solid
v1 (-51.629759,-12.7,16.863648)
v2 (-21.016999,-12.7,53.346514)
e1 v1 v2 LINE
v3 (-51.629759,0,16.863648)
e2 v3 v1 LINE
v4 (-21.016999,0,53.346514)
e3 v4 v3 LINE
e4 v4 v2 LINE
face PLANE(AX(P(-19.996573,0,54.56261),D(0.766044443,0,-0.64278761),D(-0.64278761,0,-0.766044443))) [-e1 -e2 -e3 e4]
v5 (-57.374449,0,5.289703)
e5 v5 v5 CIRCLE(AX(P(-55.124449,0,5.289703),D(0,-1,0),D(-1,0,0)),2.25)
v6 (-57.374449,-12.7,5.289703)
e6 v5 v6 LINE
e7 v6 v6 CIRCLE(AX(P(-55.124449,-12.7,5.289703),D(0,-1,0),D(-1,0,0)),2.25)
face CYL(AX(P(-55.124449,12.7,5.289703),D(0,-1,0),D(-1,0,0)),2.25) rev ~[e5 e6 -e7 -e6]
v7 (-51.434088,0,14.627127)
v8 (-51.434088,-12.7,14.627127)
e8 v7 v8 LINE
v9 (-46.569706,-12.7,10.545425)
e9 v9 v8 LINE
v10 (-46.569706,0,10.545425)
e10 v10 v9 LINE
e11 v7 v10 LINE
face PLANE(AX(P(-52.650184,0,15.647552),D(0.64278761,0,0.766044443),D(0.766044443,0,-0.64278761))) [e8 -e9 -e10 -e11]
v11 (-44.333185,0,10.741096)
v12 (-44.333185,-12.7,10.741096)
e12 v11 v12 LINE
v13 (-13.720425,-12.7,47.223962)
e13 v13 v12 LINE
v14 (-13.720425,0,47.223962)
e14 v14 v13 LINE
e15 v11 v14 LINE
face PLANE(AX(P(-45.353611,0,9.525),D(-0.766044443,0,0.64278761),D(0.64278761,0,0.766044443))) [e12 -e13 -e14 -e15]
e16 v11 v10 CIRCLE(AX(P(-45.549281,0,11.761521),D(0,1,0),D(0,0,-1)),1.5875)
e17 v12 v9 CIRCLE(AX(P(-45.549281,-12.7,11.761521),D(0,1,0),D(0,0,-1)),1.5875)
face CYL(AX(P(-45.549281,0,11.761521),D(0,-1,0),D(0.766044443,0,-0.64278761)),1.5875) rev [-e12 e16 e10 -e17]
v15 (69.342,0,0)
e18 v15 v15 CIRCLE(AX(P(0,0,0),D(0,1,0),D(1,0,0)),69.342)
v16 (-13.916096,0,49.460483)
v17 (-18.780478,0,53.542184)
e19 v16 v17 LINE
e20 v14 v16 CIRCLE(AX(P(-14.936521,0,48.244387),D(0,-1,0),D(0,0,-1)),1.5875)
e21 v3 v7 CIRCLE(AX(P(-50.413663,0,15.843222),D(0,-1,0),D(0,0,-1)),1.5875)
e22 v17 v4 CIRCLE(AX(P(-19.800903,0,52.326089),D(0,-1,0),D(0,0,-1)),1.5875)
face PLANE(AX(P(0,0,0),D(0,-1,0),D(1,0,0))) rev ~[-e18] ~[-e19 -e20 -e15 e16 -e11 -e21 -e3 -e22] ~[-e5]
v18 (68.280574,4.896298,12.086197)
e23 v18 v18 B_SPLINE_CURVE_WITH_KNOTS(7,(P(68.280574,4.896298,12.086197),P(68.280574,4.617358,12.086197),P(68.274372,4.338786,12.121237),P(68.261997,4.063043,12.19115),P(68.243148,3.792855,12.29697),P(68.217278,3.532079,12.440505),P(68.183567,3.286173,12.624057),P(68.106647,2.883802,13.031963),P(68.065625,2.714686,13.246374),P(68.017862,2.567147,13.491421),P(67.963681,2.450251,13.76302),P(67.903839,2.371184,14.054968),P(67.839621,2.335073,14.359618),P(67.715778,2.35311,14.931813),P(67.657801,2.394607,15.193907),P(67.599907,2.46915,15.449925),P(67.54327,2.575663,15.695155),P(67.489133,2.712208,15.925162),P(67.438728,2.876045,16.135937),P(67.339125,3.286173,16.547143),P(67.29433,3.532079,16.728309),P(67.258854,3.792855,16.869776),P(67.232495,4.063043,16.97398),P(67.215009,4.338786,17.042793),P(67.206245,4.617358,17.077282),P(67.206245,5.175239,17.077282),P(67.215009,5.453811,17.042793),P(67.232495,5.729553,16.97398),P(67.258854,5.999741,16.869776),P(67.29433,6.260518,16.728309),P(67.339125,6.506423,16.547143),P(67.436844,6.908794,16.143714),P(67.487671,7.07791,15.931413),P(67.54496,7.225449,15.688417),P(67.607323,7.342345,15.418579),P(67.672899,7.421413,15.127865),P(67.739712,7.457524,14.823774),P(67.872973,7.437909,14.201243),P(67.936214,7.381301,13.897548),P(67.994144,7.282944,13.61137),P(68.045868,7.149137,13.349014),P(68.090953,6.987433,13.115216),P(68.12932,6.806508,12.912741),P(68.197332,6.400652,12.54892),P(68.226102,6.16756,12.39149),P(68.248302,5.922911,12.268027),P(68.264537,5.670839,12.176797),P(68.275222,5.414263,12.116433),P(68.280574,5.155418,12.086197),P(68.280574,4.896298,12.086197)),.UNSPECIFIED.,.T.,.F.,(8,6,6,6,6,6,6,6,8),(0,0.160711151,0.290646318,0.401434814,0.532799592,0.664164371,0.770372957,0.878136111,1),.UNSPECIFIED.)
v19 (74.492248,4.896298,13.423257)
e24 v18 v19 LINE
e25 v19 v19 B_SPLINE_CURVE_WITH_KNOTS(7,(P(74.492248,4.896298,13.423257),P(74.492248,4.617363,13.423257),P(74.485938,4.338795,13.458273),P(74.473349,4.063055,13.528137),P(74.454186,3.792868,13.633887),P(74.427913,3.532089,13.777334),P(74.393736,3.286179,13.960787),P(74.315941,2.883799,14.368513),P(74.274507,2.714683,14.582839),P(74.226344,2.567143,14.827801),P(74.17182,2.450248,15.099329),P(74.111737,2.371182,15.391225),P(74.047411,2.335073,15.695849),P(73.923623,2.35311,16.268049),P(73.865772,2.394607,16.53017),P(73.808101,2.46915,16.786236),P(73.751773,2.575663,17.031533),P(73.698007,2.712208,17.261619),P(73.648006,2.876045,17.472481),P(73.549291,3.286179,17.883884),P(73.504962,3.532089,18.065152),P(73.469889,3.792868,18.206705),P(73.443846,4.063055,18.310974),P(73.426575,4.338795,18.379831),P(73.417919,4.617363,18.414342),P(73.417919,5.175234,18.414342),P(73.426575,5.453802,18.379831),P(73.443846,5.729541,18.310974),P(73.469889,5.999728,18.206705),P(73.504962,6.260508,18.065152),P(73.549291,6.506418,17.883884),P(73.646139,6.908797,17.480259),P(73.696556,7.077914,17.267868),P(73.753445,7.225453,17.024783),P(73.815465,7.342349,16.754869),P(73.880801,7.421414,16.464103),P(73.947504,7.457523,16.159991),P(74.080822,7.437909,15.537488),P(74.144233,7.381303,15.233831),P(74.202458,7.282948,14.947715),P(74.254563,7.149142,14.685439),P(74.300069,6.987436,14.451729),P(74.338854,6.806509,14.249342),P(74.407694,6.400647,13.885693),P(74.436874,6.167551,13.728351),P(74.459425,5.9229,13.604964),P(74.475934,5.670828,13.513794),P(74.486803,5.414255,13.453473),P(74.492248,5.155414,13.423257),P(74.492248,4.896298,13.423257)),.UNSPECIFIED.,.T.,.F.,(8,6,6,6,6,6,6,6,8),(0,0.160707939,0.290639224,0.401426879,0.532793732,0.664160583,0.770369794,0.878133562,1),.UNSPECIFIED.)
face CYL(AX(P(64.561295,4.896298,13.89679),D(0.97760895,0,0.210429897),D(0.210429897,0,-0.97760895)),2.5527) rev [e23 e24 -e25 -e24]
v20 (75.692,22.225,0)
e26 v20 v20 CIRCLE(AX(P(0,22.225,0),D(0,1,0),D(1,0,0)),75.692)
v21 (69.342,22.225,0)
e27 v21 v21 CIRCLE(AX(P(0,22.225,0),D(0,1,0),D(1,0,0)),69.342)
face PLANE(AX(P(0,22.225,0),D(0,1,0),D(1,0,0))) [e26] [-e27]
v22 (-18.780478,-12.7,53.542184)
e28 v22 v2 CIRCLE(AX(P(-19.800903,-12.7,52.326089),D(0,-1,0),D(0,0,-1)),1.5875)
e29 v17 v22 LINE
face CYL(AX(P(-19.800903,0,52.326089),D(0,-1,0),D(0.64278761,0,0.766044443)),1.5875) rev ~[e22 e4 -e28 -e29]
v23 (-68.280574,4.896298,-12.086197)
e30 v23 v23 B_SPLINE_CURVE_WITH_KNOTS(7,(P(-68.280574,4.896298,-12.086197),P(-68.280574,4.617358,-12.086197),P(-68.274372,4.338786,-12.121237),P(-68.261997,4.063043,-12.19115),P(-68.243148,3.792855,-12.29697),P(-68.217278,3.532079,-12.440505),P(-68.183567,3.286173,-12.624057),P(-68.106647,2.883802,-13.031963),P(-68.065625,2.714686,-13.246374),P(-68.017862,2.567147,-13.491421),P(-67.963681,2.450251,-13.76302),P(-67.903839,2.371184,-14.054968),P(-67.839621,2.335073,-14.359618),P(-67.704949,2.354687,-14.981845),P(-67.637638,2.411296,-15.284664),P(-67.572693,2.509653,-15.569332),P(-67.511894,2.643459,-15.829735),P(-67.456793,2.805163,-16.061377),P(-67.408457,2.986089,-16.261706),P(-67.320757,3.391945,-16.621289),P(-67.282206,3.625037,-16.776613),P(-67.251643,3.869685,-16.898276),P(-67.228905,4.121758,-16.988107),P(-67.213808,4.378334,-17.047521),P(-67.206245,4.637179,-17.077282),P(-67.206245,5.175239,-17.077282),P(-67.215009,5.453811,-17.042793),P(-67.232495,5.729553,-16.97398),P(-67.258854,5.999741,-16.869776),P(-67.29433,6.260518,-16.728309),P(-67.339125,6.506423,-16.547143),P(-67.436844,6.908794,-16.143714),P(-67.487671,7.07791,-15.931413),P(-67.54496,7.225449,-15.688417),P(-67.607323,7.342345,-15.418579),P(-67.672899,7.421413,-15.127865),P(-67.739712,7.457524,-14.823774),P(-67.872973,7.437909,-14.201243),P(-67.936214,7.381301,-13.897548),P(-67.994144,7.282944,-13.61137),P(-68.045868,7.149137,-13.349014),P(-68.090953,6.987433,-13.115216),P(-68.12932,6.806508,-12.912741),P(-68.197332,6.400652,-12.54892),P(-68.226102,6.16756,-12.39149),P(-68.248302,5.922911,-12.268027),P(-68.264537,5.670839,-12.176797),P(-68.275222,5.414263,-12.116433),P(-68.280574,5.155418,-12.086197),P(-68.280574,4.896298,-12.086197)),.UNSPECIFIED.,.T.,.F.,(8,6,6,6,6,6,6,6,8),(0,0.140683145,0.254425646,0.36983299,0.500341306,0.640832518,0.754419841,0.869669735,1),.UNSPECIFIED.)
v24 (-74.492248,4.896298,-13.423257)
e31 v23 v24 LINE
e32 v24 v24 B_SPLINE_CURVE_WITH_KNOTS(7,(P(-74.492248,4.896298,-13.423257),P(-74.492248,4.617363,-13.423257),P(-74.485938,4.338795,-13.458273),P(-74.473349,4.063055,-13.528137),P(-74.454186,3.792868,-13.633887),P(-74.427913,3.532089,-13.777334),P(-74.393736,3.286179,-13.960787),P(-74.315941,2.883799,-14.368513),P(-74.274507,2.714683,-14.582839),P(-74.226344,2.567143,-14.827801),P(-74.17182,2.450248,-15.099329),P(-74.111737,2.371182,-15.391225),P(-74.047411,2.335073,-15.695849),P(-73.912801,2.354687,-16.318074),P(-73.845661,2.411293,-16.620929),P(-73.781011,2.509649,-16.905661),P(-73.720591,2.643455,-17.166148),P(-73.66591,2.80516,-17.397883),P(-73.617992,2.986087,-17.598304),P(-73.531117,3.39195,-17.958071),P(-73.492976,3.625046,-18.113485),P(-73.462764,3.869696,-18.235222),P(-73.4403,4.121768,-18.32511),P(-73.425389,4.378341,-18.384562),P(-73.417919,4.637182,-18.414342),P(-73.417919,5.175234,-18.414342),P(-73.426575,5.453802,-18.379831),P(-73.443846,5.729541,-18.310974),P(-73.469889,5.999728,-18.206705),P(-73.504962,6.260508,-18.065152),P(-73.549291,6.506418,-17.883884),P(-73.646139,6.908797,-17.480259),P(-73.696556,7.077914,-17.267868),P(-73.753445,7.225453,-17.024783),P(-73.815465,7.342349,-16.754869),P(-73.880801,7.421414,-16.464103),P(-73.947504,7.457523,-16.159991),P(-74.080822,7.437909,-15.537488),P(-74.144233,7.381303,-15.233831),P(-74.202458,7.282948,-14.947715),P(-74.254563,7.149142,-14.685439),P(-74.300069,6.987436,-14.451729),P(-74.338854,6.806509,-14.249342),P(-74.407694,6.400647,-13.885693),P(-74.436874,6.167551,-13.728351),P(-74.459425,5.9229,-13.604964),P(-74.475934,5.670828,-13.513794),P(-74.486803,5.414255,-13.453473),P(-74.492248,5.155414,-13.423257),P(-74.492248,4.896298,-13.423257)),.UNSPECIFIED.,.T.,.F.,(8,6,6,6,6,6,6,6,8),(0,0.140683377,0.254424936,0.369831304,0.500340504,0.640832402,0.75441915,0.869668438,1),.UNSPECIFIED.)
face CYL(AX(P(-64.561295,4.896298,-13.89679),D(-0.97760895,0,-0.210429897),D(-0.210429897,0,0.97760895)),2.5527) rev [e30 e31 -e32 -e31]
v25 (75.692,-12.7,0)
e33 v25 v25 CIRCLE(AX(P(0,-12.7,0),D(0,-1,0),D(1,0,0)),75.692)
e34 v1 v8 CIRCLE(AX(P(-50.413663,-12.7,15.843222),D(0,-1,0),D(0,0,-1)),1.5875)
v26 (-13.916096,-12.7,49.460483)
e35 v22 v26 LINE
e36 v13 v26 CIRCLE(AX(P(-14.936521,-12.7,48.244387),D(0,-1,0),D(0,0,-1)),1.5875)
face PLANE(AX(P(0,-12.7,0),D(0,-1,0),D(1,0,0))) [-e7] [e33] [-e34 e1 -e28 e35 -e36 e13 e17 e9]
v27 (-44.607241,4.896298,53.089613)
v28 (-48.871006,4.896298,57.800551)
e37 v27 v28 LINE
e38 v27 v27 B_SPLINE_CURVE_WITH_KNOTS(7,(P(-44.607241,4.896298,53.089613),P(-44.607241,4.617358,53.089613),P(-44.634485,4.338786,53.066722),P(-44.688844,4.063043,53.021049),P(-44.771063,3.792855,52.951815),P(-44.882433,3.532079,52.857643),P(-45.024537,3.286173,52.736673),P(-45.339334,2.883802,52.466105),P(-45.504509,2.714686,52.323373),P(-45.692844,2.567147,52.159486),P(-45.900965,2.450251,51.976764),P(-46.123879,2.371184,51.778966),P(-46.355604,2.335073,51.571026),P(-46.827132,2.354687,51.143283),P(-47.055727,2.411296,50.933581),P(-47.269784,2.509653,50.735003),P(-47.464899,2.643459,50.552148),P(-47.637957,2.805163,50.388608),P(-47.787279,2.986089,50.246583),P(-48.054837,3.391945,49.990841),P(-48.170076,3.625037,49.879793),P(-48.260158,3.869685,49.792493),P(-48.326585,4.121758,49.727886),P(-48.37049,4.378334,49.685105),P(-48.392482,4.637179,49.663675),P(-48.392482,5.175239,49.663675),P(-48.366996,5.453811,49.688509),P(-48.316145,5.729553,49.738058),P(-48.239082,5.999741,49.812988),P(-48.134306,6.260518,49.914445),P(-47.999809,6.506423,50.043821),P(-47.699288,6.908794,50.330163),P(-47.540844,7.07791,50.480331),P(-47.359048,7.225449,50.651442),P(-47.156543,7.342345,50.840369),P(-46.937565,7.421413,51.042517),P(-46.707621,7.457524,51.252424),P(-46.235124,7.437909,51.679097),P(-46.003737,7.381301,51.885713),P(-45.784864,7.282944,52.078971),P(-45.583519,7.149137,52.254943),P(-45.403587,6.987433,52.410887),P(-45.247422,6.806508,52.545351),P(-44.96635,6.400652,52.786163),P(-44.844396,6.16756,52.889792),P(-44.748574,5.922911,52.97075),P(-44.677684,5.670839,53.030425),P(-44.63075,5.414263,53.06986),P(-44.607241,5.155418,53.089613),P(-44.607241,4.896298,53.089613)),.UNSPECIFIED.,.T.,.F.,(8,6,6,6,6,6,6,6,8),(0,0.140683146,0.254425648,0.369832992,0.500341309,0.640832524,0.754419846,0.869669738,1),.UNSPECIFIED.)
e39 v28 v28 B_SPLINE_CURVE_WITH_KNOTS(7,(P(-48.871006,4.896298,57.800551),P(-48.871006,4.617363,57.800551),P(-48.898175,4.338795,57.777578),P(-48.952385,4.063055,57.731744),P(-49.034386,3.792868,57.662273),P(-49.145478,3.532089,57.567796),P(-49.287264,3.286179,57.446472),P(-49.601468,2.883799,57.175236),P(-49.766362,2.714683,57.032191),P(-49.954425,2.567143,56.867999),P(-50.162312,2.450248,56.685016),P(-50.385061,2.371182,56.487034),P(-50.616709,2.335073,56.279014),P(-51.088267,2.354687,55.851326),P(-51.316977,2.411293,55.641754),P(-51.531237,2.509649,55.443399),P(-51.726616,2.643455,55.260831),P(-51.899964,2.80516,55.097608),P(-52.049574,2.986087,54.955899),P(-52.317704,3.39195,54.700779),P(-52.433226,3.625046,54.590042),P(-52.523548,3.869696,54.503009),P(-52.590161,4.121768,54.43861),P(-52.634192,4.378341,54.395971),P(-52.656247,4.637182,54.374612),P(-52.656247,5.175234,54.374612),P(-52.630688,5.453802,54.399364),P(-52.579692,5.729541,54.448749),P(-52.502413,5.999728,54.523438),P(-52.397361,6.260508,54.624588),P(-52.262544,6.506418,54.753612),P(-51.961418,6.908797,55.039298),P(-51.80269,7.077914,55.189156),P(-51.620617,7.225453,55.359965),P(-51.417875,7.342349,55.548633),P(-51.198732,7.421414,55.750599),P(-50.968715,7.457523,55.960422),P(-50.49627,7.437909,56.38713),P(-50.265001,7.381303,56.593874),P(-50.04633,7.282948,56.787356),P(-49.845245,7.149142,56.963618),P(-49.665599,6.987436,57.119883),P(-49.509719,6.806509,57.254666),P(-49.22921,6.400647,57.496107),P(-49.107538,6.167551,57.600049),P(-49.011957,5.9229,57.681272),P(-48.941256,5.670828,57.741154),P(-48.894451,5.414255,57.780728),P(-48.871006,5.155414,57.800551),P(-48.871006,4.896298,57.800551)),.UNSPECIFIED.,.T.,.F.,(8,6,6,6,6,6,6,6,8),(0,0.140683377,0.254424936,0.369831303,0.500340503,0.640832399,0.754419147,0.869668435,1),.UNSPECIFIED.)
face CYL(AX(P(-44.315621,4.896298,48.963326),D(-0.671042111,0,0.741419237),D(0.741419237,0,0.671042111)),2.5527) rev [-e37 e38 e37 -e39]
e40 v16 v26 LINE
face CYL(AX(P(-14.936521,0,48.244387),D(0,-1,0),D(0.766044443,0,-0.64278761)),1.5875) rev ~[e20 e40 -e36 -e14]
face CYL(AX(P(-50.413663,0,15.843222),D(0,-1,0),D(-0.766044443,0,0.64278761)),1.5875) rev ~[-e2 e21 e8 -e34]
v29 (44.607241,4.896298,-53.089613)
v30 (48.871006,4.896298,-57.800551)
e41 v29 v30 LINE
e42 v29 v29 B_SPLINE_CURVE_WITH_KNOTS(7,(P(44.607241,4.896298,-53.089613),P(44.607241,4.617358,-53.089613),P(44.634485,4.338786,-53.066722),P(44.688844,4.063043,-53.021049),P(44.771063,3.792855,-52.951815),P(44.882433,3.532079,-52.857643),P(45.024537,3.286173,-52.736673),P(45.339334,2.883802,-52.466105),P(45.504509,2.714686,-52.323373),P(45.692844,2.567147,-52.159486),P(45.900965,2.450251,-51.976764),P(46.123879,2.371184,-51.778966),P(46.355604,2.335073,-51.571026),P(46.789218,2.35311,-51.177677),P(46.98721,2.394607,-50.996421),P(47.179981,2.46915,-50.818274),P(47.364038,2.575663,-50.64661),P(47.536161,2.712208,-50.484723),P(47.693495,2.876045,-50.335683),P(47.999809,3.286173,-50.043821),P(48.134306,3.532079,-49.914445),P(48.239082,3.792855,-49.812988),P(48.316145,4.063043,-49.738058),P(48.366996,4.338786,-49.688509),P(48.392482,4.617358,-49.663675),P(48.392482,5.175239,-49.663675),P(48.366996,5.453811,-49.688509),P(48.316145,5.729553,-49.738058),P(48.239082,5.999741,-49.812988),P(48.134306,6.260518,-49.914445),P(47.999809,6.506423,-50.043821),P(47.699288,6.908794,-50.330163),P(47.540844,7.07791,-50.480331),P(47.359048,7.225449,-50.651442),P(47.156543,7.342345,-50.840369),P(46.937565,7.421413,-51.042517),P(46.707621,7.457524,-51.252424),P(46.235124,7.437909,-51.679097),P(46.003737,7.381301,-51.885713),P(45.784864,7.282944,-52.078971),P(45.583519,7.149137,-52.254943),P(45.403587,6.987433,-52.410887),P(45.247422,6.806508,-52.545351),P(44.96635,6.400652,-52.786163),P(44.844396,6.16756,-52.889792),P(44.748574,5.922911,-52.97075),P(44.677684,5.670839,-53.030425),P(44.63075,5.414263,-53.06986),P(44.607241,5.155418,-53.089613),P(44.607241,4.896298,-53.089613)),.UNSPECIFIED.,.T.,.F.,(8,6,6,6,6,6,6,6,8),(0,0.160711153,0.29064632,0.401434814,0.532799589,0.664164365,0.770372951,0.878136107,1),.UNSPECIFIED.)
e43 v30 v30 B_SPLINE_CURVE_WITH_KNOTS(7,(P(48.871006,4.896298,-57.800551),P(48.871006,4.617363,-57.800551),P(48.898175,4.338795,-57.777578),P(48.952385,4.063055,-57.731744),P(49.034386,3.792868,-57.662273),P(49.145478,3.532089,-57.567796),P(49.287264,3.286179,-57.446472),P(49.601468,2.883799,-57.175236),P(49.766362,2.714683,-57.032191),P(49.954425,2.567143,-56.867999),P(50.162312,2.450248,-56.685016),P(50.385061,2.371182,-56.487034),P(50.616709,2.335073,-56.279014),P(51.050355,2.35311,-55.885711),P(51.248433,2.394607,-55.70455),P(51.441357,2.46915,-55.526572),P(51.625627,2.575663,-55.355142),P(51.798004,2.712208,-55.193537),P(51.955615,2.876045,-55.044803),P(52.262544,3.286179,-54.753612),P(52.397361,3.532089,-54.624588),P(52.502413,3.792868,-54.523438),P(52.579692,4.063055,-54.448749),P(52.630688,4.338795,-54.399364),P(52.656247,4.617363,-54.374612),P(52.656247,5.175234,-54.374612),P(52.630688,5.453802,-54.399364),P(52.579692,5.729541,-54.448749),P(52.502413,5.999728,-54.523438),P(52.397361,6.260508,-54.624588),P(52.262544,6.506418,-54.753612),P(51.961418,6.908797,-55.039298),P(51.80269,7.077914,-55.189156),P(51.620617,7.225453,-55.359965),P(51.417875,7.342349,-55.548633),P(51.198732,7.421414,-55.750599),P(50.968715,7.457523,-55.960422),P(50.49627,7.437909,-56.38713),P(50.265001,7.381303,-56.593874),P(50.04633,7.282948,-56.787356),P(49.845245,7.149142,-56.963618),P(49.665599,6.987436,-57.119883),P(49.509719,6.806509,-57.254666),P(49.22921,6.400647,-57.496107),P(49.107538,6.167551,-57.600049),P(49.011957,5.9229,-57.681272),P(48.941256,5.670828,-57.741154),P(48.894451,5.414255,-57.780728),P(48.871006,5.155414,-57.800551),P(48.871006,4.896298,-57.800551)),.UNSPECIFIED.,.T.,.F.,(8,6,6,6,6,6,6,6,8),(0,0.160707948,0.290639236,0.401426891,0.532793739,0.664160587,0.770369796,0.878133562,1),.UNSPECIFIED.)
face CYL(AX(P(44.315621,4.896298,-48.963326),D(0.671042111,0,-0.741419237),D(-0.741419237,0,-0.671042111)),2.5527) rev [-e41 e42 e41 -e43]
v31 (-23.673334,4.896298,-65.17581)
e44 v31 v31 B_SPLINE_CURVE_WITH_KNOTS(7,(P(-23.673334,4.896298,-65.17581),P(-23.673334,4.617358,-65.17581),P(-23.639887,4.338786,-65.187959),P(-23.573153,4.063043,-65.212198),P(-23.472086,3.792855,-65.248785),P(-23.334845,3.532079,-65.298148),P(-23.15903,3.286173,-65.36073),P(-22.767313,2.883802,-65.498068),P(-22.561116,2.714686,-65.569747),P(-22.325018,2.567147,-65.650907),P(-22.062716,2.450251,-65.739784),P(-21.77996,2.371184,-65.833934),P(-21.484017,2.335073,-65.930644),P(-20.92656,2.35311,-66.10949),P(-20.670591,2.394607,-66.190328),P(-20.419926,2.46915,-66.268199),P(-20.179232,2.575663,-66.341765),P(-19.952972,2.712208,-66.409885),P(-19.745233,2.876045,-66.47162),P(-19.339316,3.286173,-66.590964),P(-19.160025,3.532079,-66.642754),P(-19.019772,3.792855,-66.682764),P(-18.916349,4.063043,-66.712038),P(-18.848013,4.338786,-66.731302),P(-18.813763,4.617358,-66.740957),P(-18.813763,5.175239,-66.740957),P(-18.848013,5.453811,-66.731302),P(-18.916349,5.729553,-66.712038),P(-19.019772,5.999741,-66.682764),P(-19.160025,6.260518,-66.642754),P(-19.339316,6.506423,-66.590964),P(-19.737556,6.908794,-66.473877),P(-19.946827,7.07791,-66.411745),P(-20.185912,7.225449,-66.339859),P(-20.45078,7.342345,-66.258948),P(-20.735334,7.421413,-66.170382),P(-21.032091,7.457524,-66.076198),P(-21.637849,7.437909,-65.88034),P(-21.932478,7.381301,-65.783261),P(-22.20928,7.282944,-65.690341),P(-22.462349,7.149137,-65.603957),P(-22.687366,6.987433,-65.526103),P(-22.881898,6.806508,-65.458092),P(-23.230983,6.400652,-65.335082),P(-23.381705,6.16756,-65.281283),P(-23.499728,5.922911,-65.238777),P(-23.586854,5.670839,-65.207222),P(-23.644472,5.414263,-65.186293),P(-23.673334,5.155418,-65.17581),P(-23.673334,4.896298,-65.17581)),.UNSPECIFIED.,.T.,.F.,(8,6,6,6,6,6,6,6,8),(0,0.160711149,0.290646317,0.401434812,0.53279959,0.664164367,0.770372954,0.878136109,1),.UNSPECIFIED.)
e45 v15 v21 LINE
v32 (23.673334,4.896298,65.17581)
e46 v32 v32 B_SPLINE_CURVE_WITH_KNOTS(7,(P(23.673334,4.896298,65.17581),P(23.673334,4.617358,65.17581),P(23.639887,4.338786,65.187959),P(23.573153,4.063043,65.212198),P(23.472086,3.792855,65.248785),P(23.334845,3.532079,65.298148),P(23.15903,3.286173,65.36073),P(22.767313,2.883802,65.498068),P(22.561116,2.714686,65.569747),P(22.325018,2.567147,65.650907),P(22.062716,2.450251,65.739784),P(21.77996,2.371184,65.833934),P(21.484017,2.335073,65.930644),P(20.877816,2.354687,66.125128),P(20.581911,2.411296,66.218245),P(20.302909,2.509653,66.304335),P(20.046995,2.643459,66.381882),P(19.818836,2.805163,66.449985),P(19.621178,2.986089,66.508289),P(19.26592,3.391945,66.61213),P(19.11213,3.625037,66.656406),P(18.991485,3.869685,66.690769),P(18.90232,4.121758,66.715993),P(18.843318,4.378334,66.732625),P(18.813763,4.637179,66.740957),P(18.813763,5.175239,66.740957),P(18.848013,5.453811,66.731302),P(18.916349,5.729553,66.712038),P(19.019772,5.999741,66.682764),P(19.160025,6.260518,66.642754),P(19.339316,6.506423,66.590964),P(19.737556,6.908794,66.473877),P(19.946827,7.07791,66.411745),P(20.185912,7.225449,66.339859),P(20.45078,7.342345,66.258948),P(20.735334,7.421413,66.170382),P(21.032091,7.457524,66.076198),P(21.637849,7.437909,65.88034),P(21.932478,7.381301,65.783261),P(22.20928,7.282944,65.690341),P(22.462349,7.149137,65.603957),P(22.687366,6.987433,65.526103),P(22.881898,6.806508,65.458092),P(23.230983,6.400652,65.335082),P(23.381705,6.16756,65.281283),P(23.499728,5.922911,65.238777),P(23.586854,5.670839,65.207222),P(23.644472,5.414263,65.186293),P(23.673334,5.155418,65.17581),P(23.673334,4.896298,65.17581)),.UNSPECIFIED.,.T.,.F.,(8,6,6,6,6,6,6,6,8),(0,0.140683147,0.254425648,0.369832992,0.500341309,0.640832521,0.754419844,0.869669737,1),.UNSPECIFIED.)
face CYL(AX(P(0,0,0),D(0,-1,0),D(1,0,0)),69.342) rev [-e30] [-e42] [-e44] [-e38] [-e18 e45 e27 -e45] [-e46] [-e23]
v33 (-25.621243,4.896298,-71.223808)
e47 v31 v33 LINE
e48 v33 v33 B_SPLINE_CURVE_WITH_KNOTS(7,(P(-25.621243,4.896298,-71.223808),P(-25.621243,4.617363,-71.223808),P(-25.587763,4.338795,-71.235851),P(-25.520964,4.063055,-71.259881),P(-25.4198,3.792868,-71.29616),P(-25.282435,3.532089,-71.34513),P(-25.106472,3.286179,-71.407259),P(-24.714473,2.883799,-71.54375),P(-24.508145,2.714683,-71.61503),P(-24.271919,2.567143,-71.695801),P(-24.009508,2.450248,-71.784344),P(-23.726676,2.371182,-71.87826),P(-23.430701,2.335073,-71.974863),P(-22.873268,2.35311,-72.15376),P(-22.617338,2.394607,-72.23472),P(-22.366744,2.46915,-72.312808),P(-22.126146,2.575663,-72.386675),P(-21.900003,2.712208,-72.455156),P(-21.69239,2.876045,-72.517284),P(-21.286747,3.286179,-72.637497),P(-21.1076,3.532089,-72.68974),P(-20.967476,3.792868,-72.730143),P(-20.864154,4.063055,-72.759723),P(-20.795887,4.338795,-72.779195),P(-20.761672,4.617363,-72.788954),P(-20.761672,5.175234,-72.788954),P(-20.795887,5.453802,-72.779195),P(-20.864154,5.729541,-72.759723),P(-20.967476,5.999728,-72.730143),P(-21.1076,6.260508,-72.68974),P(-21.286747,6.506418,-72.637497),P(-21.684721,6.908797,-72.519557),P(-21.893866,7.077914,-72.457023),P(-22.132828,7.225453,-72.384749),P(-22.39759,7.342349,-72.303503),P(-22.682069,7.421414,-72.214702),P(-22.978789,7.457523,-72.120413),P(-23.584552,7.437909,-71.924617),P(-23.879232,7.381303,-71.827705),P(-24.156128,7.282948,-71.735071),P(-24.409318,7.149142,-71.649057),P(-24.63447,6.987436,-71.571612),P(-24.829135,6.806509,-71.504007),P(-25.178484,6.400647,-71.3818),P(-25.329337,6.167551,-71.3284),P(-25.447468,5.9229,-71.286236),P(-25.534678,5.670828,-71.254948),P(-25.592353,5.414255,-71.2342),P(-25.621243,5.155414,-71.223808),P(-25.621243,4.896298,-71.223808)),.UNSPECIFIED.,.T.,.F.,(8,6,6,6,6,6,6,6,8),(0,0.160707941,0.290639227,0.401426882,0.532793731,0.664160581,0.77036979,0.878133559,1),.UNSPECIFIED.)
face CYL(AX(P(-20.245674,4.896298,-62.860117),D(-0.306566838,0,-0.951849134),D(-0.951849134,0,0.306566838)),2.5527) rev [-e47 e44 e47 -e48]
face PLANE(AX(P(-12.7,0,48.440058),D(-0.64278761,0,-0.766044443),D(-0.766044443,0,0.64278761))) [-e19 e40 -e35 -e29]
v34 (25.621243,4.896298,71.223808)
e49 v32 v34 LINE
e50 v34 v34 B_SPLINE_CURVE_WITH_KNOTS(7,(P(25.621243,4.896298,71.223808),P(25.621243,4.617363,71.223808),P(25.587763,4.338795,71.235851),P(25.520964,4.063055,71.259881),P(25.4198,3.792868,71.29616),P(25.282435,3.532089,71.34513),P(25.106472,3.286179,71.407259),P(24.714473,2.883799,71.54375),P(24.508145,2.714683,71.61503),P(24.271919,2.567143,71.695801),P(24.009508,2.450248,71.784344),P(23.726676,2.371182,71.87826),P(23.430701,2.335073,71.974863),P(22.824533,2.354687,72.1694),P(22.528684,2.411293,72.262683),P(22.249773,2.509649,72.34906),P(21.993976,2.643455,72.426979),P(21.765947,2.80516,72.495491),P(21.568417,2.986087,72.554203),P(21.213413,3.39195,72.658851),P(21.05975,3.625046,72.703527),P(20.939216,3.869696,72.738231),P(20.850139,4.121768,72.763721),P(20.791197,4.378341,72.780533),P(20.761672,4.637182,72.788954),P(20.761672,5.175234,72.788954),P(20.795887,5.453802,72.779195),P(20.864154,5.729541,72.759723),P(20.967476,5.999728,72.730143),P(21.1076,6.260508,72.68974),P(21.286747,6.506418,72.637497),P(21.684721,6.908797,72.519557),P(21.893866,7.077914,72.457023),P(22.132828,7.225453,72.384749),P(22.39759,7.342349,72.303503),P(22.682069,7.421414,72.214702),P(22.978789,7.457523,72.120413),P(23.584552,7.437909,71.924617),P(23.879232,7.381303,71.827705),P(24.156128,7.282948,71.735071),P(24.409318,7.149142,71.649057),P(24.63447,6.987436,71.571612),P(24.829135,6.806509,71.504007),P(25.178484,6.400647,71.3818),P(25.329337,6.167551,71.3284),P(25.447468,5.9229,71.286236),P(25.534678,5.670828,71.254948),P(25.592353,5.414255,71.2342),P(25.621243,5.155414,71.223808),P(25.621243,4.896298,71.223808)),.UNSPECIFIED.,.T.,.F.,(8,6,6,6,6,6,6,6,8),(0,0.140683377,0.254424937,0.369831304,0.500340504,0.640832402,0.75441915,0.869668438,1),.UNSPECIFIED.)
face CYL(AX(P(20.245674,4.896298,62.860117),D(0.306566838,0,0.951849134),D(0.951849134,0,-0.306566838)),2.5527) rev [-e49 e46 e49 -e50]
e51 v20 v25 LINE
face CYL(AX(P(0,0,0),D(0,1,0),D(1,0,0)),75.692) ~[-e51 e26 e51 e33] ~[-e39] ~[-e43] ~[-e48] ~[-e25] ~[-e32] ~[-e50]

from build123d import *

# Parameters (mm, degrees)
SKETCH1_R                            = 75.692
SKETCH1_R_2                          = 69.342
BOSS_EXTRUDE1_DEPTH                  = 22.225
SKETCH2_R                            = 75.692
BOSS_EXTRUDE2_DEPTH                  = 12.7
TAP_DRILL_FOR_1_4_20_TAP1_AT_2_COUNT = 2
TAP_DRILL_FOR_1_4_20_TAP1_AT_2_PITCH = 53.488399339
CIRPATTERN1_COUNT                    = 6
CUT_EXTRUDE1_DEPTH                   = 13.7000001
FILLET1_R                            = 1.5875
M4_CLEARANCE_HOLE1_D                 = 4.5
M4_CLEARANCE_HOLE1_DEPTH             = 12.7


with BuildPart() as part:
    # Sketch1 → Boss-Extrude1 (new body)
    with BuildSketch(Plane(origin=(0, 0, 0), x_dir=(1, 0, 0), z_dir=(0, 1, 0))):
        Circle(SKETCH1_R)
        Circle(SKETCH1_R_2, mode=Mode.SUBTRACT)
    extrude(amount=BOSS_EXTRUDE1_DEPTH)

    # Sketch2 → Boss-Extrude2 (add)
    with BuildSketch(Plane.XZ):
        Circle(SKETCH2_R)
    extrude(amount=BOSS_EXTRUDE2_DEPTH)

    # Sketch4 → Tap Drill for 1/4-20 Tap1 (revolve, cut)
    with BuildSketch(Plane(origin=(73.997176623, 4.896298223, 15.927859738), x_dir=(0.210429897, 0, -0.97760895), z_dir=(0, 1, 0))):
        Polygon((0, 0), (0, 11.185816902), (2.5527, 9.652), (2.5527, 0), align=None)
    tap_drill_for_1_4_20_tap1 = revolve(axis=Axis((80.204993454, 4.896298223, 17.264089582), (-0.97760895, 0, -0.210429897)), mode=Mode.SUBTRACT)

    # Tap Drill for 1/4-20 Tap1 at 2: Tap Drill for 1/4-20 Tap1 ×2
    with Locations(*[Vector(-0.110438581, 0.851210999, 0.51307227) * (i * TAP_DRILL_FOR_1_4_20_TAP1_AT_2_PITCH) for i in range(1, TAP_DRILL_FOR_1_4_20_TAP1_AT_2_COUNT)]):
        add(tap_drill_for_1_4_20_tap1, mode=Mode.SUBTRACT)

    # CirPattern1: Tap Drill for 1/4-20 Tap1 ×6 about axis
    cirpattern1_axis = Axis((0, 22.225, 0), (0, -1, 0))
    for i in range(1, CIRPATTERN1_COUNT):
        add(tap_drill_for_1_4_20_tap1.rotate(cirpattern1_axis, i * 360 / CIRPATTERN1_COUNT), mode=Mode.SUBTRACT)

    # CirPattern1 copy 1 sketch → CirPattern1 copy 1 (revolve, cut)
    with BuildSketch(Plane(origin=(-3.515628412, 50.426212075, 80.653301416), x_dir=(0.951849134, 0, -0.306566839), z_dir=(0, 1, 0))):
        Polygon((0, 0), (0, 11.185816902), (2.5527, 9.652), (2.5527, 0), align=None)
    revolve(axis=Axis((-1.568928987, 50.426212075, 86.697543415), (-0.306566839, 0, -0.951849134)), mode=Mode.SUBTRACT)

    # CirPattern1 copy 2 sketch → CirPattern1 copy 2 (revolve, cut)
    with BuildSketch(Plane(origin=(-71.605622131, 50.426212075, 37.282027193), x_dir=(0.741419237, 0, 0.671042111), z_dir=(0, 1, 0))):
        Polygon((0, 0), (0, 11.185816902), (2.5527, 9.652), (2.5527, 0), align=None)
    revolve(axis=Axis((-75.866739537, 50.426212075, 41.990039348), (0.671042111, 0, -0.741419237)), mode=Mode.SUBTRACT)

    # CirPattern1 copy 3 sketch → CirPattern1 copy 3 (revolve, cut)
    with BuildSketch(Plane(origin=(-68.089993719, 50.426212075, -43.371274223), x_dir=(-0.210429897, 0, 0.97760895), z_dir=(0, 1, 0))):
        Polygon((0, 0), (0, 11.185816902), (2.5527, 9.652), (2.5527, 0), align=None)
    revolve(axis=Axis((-74.29781055, 50.426212075, -44.707504067), (0.97760895, 0, 0.210429897)), mode=Mode.SUBTRACT)

    # CirPattern1 copy 4 sketch → CirPattern1 copy 4 (revolve, cut)
    with BuildSketch(Plane(origin=(3.515628412, 50.426212075, -80.653301416), x_dir=(-0.951849134, 0, 0.306566839), z_dir=(0, 1, 0))):
        Polygon((0, 0), (0, 11.185816902), (2.5527, 9.652), (2.5527, 0), align=None)
    revolve(axis=Axis((1.568928987, 50.426212075, -86.697543415), (0.306566839, 0, 0.951849134)), mode=Mode.SUBTRACT)

    # CirPattern1 copy 5 sketch → CirPattern1 copy 5 (revolve, cut)
    with BuildSketch(Plane(origin=(71.605622131, 50.426212075, -37.282027193), x_dir=(-0.741419237, 0, -0.671042111), z_dir=(0, 1, 0))):
        Polygon((0, 0), (0, 11.185816902), (2.5527, 9.652), (2.5527, 0), align=None)
    revolve(axis=Axis((75.866739537, 50.426212075, -41.990039348), (-0.671042111, 0, 0.741419237)), mode=Mode.SUBTRACT)

    # Sketch5 → Cut-Extrude1 (cut, through all)
    with BuildSketch(Plane(origin=(0, 0, 0), x_dir=(1, 0, 0), z_dir=(0, 1, 0))):
        Polygon((-52.650183893, -15.647551982), (-45.353610572, -9.525), (-12.7, -48.44005771), (-19.996573321, -54.562609693), align=None)
    extrude(amount=-CUT_EXTRUDE1_DEPTH, mode=Mode.SUBTRACT)

    # Fillet1
    fillet1_edges = [part.edges().sort_by_distance(p)[0] for p in [
        (-19.996573321, -6.35, 54.562609693),
        (-52.650183893, -6.35, 15.647551982),
        (-45.353610572, -6.35, 9.525),
        (-12.7, -6.35, 48.44005771),
    ]]
    fillet(fillet1_edges, radius=FILLET1_R)

    # M4 Clearance Hole1
    with Locations(Plane(origin=(0, 0, 0), x_dir=(1, 0, 0), z_dir=(0, 1, 0))):
        with Locations((-55.124449215, -5.28970267)):
            Hole(M4_CLEARANCE_HOLE1_D / 2, depth=M4_CLEARANCE_HOLE1_DEPTH)


solid = part.part
